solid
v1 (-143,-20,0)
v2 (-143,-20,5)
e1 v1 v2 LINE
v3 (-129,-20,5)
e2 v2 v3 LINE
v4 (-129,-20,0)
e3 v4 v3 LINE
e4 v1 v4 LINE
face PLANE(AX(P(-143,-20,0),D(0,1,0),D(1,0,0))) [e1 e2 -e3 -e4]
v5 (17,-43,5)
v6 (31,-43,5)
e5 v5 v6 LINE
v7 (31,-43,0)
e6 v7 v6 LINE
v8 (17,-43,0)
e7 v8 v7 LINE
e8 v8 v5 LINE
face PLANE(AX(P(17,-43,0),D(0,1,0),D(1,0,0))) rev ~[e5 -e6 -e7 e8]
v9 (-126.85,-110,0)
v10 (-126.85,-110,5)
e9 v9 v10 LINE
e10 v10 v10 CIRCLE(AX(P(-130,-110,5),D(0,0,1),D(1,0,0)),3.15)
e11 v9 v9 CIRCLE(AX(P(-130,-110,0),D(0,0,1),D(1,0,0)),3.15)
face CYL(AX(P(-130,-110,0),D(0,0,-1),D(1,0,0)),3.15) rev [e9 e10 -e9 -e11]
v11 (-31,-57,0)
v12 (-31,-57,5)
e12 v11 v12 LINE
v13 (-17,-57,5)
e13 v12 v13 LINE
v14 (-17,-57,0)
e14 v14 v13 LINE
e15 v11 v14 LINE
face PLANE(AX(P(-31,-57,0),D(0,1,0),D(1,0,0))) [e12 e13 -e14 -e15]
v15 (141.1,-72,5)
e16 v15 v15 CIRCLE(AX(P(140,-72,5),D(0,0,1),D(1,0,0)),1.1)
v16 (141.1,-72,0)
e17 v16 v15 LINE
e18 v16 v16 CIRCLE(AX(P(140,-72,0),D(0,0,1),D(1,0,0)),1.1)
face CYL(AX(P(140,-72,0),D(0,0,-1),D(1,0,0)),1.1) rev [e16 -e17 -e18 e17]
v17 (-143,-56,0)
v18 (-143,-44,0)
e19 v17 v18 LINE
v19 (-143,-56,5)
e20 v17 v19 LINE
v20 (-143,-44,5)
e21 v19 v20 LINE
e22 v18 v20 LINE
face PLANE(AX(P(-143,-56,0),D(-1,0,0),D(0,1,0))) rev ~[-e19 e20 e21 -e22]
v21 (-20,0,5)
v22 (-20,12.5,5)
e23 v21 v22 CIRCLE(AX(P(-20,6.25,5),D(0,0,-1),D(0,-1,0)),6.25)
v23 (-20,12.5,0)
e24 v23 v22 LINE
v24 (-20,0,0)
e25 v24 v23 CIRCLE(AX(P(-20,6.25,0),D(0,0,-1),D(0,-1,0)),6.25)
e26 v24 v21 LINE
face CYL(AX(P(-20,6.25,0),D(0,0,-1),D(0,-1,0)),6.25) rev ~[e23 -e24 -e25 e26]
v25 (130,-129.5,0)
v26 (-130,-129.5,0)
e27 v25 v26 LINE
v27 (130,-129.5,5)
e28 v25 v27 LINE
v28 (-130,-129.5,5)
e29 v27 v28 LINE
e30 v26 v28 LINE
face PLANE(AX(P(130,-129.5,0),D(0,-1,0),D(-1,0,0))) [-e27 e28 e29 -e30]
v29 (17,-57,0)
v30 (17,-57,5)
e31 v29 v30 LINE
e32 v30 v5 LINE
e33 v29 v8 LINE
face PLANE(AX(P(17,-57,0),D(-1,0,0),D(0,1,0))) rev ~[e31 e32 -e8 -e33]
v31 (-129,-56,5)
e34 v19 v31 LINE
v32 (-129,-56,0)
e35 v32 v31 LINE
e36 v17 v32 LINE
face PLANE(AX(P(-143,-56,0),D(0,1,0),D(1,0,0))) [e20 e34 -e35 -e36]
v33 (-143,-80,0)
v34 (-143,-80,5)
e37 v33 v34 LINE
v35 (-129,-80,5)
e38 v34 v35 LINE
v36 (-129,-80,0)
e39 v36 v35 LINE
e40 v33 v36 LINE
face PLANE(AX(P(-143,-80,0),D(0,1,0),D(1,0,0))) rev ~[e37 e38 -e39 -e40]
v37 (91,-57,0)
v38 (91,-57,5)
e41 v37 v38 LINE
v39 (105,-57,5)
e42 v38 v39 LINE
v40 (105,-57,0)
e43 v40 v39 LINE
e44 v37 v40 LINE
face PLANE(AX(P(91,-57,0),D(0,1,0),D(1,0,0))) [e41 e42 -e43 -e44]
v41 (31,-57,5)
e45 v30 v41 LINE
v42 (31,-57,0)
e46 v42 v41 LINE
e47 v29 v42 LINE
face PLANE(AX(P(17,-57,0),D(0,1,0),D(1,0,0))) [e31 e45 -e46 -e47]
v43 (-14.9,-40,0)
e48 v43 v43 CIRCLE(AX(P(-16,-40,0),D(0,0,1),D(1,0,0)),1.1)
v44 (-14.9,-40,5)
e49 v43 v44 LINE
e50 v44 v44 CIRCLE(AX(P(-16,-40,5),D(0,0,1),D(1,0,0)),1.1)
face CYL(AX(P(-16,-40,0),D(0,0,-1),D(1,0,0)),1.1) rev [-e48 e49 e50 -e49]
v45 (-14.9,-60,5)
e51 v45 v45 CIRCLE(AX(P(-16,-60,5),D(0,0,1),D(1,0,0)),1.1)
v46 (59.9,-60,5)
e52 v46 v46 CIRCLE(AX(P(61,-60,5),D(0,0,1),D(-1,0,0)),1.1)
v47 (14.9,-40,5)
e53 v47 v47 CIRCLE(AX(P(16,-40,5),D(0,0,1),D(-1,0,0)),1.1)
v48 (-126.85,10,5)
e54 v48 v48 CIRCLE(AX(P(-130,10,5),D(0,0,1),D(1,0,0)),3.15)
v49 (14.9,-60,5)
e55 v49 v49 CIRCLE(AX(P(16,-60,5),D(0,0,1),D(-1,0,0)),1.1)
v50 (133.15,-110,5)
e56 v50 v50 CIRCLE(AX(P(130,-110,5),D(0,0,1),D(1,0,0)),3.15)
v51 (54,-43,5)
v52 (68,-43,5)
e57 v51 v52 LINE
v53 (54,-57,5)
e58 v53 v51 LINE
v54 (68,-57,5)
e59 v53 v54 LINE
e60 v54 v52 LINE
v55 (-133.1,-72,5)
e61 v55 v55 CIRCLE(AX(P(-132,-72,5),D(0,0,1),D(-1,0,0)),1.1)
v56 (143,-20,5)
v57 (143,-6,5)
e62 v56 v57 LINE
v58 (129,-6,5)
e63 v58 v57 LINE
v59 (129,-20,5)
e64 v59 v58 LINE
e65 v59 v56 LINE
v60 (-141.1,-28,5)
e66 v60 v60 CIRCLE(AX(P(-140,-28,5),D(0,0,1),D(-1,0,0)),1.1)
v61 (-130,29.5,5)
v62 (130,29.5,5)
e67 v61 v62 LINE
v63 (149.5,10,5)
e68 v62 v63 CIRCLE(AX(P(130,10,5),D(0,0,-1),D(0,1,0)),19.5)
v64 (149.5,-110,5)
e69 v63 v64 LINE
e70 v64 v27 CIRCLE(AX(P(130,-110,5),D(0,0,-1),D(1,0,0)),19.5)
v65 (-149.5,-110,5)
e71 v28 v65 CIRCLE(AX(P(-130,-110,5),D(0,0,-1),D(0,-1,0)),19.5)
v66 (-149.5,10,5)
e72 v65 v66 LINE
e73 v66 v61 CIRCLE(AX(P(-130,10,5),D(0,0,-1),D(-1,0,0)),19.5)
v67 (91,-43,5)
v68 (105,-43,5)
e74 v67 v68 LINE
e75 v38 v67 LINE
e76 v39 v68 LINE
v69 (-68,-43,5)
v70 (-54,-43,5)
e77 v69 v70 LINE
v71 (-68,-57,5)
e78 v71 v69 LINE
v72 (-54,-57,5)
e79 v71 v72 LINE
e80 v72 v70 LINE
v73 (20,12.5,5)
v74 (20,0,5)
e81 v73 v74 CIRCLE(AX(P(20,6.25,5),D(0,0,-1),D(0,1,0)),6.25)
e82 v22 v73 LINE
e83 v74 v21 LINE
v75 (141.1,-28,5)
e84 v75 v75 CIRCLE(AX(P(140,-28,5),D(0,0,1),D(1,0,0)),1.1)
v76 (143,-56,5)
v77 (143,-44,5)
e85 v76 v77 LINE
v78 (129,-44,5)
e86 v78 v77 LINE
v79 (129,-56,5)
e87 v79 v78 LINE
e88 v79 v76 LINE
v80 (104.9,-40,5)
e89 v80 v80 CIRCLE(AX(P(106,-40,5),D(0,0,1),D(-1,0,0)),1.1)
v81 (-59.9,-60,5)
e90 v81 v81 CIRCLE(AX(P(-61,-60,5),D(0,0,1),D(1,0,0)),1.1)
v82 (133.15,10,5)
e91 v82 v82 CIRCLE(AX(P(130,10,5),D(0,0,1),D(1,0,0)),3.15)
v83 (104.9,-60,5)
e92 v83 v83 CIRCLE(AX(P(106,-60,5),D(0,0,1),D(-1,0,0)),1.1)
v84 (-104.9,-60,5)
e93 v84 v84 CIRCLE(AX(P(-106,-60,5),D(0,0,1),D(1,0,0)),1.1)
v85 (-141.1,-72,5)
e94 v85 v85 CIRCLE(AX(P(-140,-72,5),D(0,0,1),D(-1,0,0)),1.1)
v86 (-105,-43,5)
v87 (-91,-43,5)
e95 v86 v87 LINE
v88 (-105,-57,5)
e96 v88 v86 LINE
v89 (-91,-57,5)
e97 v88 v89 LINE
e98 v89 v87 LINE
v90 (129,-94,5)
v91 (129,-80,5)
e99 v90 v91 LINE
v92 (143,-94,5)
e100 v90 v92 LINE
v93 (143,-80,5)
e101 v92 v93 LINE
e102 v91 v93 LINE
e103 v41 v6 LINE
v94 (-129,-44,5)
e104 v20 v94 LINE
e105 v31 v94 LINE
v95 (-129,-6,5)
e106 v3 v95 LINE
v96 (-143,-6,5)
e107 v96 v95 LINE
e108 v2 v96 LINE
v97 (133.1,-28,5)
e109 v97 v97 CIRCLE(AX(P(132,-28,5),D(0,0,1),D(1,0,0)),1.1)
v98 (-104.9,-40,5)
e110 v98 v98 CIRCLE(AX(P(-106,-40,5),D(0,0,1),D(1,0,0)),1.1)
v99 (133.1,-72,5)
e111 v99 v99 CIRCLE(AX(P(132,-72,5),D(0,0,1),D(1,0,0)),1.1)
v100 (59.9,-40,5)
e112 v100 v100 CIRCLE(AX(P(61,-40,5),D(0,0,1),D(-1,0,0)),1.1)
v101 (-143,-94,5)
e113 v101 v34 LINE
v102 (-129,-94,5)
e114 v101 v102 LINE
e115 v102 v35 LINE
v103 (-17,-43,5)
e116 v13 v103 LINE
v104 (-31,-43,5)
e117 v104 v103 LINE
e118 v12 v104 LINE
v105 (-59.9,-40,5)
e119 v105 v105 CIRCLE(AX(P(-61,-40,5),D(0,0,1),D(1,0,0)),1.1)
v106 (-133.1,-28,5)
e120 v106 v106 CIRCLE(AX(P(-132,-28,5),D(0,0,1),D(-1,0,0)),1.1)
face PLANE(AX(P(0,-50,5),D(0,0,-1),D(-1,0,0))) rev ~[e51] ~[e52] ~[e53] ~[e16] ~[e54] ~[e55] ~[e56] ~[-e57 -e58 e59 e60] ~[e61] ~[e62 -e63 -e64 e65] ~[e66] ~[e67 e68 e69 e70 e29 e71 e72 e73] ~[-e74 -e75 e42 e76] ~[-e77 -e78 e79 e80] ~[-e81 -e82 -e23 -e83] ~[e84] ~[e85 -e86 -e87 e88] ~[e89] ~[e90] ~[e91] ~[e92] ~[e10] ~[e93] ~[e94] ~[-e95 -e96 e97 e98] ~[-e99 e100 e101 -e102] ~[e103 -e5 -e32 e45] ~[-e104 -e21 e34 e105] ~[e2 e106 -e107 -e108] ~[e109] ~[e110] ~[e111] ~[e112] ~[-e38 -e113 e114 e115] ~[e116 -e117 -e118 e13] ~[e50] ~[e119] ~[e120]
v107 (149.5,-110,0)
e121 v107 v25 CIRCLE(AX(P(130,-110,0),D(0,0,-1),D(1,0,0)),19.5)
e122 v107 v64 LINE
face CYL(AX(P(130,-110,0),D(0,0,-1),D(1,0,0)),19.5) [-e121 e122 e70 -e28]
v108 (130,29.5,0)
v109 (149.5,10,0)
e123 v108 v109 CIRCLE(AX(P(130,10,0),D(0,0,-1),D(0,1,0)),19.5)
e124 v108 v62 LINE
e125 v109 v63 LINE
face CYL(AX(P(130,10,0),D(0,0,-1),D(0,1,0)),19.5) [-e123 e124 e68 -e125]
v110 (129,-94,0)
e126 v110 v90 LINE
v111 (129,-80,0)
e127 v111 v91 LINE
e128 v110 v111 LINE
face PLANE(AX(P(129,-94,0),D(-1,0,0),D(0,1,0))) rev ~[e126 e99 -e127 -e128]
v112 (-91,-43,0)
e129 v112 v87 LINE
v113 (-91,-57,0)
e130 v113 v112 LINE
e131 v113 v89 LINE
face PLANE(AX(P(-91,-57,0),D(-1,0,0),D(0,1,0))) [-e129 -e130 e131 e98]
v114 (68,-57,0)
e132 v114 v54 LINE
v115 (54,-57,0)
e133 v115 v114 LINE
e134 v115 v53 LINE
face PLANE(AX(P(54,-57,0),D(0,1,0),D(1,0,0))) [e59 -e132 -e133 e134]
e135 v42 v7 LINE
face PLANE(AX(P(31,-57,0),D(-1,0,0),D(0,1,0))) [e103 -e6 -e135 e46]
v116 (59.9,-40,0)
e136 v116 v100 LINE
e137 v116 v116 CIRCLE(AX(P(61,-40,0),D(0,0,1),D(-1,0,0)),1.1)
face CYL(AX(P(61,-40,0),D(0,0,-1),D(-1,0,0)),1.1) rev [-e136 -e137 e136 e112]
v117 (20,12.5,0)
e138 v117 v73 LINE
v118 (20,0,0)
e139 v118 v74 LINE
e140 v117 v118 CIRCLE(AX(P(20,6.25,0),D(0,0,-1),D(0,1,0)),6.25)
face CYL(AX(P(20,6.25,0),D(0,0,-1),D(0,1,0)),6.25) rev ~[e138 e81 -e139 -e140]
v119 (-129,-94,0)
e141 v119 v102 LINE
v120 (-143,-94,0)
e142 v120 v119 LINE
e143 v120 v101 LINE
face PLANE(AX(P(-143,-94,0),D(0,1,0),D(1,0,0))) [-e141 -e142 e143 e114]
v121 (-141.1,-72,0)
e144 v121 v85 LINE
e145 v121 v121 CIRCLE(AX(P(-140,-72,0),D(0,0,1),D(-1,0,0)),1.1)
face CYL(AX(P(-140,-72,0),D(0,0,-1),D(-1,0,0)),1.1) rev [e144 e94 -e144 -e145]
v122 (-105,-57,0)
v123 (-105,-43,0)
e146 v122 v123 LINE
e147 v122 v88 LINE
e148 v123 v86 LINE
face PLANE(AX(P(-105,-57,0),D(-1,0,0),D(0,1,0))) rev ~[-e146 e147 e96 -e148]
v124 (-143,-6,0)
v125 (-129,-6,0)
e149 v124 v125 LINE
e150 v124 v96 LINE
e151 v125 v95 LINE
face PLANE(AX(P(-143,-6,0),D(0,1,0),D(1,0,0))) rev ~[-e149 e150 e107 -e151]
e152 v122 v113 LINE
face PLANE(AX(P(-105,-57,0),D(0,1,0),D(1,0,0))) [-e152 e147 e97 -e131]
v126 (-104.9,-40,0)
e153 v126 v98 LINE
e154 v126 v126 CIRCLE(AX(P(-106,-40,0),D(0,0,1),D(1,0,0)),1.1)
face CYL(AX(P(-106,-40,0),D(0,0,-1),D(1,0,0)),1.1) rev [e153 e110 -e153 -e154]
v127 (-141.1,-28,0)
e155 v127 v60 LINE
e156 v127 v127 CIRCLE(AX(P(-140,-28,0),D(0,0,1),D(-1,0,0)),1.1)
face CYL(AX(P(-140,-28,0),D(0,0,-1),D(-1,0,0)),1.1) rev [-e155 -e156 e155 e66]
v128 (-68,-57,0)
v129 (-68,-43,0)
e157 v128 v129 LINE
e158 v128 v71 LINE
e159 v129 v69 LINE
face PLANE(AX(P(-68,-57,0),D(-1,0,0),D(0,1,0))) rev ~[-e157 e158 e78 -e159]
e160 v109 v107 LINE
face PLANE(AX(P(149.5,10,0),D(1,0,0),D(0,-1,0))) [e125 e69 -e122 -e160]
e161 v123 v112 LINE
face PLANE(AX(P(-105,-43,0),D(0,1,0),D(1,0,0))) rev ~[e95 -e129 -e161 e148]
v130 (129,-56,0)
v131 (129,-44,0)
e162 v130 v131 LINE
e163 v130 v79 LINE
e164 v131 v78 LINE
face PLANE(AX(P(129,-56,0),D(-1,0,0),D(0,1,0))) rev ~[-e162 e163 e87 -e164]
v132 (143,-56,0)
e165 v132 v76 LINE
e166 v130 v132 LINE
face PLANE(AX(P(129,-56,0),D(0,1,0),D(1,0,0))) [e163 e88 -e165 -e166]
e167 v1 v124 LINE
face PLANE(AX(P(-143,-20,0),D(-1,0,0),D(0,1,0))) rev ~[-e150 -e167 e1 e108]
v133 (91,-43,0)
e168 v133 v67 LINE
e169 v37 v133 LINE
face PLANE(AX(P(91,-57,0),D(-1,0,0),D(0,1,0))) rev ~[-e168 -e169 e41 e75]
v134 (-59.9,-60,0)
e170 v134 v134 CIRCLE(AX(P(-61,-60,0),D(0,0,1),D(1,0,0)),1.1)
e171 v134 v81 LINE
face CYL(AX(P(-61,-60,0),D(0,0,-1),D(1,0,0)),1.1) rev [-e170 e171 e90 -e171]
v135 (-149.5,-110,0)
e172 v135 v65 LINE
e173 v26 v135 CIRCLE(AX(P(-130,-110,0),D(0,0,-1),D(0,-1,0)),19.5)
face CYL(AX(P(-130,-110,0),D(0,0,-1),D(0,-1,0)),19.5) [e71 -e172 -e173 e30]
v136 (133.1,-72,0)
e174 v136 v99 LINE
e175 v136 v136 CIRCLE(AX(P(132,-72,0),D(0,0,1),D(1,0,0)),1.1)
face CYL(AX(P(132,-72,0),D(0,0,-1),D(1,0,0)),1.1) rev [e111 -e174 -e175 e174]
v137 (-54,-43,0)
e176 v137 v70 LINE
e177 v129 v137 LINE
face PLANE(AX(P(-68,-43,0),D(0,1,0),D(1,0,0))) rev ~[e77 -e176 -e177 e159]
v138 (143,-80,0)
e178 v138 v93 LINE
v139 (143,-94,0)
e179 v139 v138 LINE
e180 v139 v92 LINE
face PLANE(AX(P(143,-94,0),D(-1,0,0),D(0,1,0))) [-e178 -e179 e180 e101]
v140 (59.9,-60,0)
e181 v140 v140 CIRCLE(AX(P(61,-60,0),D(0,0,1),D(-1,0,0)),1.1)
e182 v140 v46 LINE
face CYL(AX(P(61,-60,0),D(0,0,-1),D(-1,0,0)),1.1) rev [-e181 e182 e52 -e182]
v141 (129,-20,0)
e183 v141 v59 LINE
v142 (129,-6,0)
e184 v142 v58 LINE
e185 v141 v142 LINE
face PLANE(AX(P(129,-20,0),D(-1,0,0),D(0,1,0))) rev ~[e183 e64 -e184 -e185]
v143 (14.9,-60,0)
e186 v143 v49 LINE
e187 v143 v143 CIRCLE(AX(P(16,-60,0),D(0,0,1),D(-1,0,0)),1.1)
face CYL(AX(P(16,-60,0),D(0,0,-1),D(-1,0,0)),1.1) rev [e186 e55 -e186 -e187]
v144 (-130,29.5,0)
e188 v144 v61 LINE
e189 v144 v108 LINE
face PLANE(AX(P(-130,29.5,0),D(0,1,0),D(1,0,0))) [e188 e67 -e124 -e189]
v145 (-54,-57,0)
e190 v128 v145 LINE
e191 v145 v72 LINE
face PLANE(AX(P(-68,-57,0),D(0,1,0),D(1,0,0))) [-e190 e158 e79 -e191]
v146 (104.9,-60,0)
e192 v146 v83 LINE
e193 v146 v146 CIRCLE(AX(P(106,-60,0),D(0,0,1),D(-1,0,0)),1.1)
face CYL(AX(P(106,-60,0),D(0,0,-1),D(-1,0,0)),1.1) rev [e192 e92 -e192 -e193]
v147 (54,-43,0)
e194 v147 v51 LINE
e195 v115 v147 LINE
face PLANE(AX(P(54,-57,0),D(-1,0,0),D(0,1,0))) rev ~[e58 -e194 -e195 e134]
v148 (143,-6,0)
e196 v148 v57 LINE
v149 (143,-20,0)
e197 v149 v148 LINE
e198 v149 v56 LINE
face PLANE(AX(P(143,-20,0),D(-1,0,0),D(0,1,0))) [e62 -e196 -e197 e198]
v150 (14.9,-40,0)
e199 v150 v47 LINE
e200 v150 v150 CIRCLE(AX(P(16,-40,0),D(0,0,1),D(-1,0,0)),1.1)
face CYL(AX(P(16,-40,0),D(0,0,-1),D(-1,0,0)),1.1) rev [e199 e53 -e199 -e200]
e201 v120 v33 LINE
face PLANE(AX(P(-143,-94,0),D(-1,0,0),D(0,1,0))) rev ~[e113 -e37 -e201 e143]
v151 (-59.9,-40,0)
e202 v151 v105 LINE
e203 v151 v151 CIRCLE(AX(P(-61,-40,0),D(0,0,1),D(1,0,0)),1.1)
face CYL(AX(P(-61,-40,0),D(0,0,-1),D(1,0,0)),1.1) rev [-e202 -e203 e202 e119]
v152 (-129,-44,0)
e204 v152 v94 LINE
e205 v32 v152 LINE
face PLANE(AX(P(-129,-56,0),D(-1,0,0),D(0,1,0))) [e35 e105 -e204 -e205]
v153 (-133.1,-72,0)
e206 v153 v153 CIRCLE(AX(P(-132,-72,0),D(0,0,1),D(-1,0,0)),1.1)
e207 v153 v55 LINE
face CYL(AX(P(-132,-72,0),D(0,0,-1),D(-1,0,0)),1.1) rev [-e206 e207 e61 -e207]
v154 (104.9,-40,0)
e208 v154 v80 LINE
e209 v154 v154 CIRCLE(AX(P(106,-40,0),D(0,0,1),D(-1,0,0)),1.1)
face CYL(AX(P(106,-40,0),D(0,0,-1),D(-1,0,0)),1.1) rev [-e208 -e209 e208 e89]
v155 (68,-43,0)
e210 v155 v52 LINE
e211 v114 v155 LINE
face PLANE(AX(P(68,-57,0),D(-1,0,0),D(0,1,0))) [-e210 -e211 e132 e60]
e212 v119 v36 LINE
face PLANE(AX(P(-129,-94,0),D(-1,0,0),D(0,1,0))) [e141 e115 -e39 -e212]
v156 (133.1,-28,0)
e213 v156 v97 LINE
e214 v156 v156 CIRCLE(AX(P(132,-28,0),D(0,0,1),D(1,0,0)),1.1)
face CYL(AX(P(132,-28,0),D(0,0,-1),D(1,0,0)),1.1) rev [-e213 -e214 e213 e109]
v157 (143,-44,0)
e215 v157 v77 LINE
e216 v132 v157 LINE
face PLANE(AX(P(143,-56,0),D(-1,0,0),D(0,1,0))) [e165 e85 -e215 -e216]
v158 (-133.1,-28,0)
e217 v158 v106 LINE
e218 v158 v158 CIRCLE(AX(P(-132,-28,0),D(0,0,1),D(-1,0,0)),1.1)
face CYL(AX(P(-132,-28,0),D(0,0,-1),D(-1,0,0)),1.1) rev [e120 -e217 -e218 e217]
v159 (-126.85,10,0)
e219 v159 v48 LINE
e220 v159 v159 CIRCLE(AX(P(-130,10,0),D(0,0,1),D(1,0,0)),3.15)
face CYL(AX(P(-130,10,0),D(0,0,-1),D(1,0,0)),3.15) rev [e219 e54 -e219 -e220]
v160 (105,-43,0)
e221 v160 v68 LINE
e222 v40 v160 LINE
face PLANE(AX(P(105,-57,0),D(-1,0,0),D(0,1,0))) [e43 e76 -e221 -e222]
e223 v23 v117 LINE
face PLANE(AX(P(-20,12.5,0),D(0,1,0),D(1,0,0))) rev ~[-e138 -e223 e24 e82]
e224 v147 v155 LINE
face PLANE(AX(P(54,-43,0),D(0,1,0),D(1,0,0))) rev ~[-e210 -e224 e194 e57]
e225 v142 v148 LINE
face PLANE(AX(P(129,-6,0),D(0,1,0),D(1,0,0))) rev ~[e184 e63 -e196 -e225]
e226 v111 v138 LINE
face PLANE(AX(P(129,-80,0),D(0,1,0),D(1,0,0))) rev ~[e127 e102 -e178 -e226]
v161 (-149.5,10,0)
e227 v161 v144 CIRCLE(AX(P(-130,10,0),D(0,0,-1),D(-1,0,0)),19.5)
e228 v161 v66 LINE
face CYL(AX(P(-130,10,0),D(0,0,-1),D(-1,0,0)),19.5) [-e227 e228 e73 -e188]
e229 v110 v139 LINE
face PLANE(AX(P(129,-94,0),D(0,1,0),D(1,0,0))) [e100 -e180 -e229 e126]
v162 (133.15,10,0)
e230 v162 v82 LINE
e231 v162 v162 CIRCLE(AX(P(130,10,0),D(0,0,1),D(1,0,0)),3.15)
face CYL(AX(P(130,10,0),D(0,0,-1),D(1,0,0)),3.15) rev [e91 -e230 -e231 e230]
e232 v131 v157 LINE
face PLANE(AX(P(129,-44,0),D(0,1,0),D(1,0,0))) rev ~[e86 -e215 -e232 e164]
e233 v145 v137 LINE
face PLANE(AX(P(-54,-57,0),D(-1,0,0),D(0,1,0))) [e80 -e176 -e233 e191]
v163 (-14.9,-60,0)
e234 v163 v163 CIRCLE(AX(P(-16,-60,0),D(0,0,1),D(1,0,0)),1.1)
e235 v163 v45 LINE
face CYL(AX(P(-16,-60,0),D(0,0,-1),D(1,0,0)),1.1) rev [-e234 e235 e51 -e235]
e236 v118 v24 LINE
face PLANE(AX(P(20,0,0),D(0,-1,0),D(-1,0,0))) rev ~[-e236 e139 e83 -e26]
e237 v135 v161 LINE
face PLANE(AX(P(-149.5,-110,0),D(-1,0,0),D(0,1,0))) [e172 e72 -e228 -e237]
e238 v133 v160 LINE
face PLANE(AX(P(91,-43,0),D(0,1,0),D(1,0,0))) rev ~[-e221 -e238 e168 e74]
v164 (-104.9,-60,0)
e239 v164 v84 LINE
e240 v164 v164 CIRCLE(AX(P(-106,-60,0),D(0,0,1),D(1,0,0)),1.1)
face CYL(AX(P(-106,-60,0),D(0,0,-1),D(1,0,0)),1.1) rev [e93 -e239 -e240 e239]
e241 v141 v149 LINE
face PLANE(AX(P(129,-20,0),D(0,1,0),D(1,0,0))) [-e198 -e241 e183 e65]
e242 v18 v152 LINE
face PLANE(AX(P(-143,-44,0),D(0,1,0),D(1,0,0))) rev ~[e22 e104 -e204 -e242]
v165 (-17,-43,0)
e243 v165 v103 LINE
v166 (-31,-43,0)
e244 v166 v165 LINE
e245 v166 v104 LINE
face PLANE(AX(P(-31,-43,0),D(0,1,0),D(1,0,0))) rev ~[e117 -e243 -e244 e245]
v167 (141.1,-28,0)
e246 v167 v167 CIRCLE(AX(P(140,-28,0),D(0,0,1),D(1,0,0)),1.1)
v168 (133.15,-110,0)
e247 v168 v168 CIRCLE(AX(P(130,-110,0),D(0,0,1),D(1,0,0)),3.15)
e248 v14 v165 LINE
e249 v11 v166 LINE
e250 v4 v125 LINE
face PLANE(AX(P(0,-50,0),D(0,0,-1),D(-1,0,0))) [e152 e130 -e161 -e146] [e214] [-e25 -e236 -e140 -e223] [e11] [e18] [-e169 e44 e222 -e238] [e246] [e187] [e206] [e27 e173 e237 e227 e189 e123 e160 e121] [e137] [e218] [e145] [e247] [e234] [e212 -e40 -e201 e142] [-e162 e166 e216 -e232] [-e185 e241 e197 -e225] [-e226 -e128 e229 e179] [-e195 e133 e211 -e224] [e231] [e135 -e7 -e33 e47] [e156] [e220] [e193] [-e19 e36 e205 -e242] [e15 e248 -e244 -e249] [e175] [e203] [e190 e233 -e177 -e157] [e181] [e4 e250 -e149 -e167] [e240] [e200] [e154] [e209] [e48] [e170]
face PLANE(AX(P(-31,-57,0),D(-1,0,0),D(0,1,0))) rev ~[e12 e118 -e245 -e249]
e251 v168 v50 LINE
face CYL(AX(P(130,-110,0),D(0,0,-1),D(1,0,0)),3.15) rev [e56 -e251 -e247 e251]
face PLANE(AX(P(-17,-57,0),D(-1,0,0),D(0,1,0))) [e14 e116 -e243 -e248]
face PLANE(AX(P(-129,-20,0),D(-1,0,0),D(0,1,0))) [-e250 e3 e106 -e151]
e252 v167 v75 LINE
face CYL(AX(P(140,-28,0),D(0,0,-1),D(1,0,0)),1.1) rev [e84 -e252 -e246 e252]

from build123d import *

# Parameters (mm, degrees)
SKETCH_2_R      = 3.15
SKETCH_2_R_2    = 1.1
SKETCH_2_W      = 14
SKETCH_2_H      = 14
SKETCH_2_H_2    = 12
EXTRUDE_1_DEPTH = 5


with BuildPart() as part:
    # 草图2 → 凸台-拉伸1 (new body)
    with BuildSketch(Plane.XY):
        with BuildLine():
            Line((-130, 29.5), (130, 29.5))
            ThreePointArc((130, 29.5), (143.788582233, 23.788582233), (149.5, 10))
            Line((149.5, 10), (149.5, -110))
            ThreePointArc((149.5, -110), (143.788582233, -123.788582233), (130, -129.5))
            Line((130, -129.5), (-130, -129.5))
            ThreePointArc((-130, -129.5), (-143.788582233, -123.788582233), (-149.5, -110))
            Line((-149.5, -110), (-149.5, 10))
            ThreePointArc((-149.5, 10), (-143.788582233, 23.788582233), (-130, 29.5))
        make_face()
        with Locations((130, -110)):
            Circle(SKETCH_2_R, mode=Mode.SUBTRACT)
        with Locations((130, 10)):
            Circle(SKETCH_2_R, mode=Mode.SUBTRACT)
        with Locations((-130, -110)):
            Circle(SKETCH_2_R, mode=Mode.SUBTRACT)
        with Locations((-130, 10)):
            Circle(SKETCH_2_R, mode=Mode.SUBTRACT)
        with Locations((-106, -40)):
            Circle(SKETCH_2_R_2, mode=Mode.SUBTRACT)
        with Locations((-106, -60)):
            Circle(SKETCH_2_R_2, mode=Mode.SUBTRACT)
        with Locations((-16, -40)):
            Circle(SKETCH_2_R_2, mode=Mode.SUBTRACT)
        with Locations((-16, -60)):
            Circle(SKETCH_2_R_2, mode=Mode.SUBTRACT)
        with Locations((-61, -60)):
            Circle(SKETCH_2_R_2, mode=Mode.SUBTRACT)
        with Locations((-61, -40)):
            Circle(SKETCH_2_R_2, mode=Mode.SUBTRACT)
        with Locations(Location((16, -60, 0), (0, 0, 180))):
            Circle(SKETCH_2_R_2, mode=Mode.SUBTRACT)
        with Locations(Location((16, -40, 0), (0, 0, 180))):
            Circle(SKETCH_2_R_2, mode=Mode.SUBTRACT)
        with Locations(Location((61, -60, 0), (0, 0, 180))):
            Circle(SKETCH_2_R_2, mode=Mode.SUBTRACT)
        with Locations(Location((61, -40, 0), (0, 0, 180))):
            Circle(SKETCH_2_R_2, mode=Mode.SUBTRACT)
        with Locations(Location((106, -60, 0), (0, 0, 180))):
            Circle(SKETCH_2_R_2, mode=Mode.SUBTRACT)
        with Locations(Location((106, -40, 0), (0, 0, 180))):
            Circle(SKETCH_2_R_2, mode=Mode.SUBTRACT)
        with Locations((140, -28)):
            Circle(SKETCH_2_R_2, mode=Mode.SUBTRACT)
        with Locations((132, -28)):
            Circle(SKETCH_2_R_2, mode=Mode.SUBTRACT)
        with Locations((132, -72)):
            Circle(SKETCH_2_R_2, mode=Mode.SUBTRACT)
        with Locations((140, -72)):
            Circle(SKETCH_2_R_2, mode=Mode.SUBTRACT)
        with Locations(Location((-140, -72, 0), (0, 0, 180))):
            Circle(SKETCH_2_R_2, mode=Mode.SUBTRACT)
        with Locations(Location((-132, -72, 0), (0, 0, 180))):
            Circle(SKETCH_2_R_2, mode=Mode.SUBTRACT)
        with Locations(Location((-132, -28, 0), (0, 0, 180))):
            Circle(SKETCH_2_R_2, mode=Mode.SUBTRACT)
        with Locations(Location((-140, -28, 0), (0, 0, 180))):
            Circle(SKETCH_2_R_2, mode=Mode.SUBTRACT)
        with Locations((-61, -50)):
            Rectangle(SKETCH_2_W, SKETCH_2_H, mode=Mode.SUBTRACT)
        with Locations((-24, -50)):
            Rectangle(SKETCH_2_W, SKETCH_2_H, mode=Mode.SUBTRACT)
        with Locations((24, -50)):
            Rectangle(SKETCH_2_W, SKETCH_2_H, mode=Mode.SUBTRACT)
        with Locations((136, -87)):
            Rectangle(SKETCH_2_W, SKETCH_2_H, mode=Mode.SUBTRACT)
        with Locations((136, -13)):
            Rectangle(SKETCH_2_W, SKETCH_2_H, mode=Mode.SUBTRACT)
        with BuildLine():
            Line((-20, 12.5), (20, 12.5))
            ThreePointArc((20, 12.5), (26.25, 6.25), (20, 0))
            Line((20, 0), (-20, 0))
            ThreePointArc((-20, 0), (-26.25, 6.25), (-20, 12.5))
        make_face(mode=Mode.SUBTRACT)
        with Locations((-136, -87)):
            Rectangle(SKETCH_2_W, SKETCH_2_H, mode=Mode.SUBTRACT)
        with Locations((-136, -13)):
            Rectangle(SKETCH_2_W, SKETCH_2_H, mode=Mode.SUBTRACT)
        with Locations((-98, -50)):
            Rectangle(SKETCH_2_W, SKETCH_2_H, mode=Mode.SUBTRACT)
        with Locations((61, -50)):
            Rectangle(SKETCH_2_W, SKETCH_2_H, mode=Mode.SUBTRACT)
        with Locations((98, -50)):
            Rectangle(SKETCH_2_W, SKETCH_2_H, mode=Mode.SUBTRACT)
        with Locations((-136, -50)):
            Rectangle(SKETCH_2_W, SKETCH_2_H_2, mode=Mode.SUBTRACT)
        with Locations((136, -50)):
            Rectangle(SKETCH_2_W, SKETCH_2_H_2, mode=Mode.SUBTRACT)
    extrude(amount=EXTRUDE_1_DEPTH)


solid = part.part
